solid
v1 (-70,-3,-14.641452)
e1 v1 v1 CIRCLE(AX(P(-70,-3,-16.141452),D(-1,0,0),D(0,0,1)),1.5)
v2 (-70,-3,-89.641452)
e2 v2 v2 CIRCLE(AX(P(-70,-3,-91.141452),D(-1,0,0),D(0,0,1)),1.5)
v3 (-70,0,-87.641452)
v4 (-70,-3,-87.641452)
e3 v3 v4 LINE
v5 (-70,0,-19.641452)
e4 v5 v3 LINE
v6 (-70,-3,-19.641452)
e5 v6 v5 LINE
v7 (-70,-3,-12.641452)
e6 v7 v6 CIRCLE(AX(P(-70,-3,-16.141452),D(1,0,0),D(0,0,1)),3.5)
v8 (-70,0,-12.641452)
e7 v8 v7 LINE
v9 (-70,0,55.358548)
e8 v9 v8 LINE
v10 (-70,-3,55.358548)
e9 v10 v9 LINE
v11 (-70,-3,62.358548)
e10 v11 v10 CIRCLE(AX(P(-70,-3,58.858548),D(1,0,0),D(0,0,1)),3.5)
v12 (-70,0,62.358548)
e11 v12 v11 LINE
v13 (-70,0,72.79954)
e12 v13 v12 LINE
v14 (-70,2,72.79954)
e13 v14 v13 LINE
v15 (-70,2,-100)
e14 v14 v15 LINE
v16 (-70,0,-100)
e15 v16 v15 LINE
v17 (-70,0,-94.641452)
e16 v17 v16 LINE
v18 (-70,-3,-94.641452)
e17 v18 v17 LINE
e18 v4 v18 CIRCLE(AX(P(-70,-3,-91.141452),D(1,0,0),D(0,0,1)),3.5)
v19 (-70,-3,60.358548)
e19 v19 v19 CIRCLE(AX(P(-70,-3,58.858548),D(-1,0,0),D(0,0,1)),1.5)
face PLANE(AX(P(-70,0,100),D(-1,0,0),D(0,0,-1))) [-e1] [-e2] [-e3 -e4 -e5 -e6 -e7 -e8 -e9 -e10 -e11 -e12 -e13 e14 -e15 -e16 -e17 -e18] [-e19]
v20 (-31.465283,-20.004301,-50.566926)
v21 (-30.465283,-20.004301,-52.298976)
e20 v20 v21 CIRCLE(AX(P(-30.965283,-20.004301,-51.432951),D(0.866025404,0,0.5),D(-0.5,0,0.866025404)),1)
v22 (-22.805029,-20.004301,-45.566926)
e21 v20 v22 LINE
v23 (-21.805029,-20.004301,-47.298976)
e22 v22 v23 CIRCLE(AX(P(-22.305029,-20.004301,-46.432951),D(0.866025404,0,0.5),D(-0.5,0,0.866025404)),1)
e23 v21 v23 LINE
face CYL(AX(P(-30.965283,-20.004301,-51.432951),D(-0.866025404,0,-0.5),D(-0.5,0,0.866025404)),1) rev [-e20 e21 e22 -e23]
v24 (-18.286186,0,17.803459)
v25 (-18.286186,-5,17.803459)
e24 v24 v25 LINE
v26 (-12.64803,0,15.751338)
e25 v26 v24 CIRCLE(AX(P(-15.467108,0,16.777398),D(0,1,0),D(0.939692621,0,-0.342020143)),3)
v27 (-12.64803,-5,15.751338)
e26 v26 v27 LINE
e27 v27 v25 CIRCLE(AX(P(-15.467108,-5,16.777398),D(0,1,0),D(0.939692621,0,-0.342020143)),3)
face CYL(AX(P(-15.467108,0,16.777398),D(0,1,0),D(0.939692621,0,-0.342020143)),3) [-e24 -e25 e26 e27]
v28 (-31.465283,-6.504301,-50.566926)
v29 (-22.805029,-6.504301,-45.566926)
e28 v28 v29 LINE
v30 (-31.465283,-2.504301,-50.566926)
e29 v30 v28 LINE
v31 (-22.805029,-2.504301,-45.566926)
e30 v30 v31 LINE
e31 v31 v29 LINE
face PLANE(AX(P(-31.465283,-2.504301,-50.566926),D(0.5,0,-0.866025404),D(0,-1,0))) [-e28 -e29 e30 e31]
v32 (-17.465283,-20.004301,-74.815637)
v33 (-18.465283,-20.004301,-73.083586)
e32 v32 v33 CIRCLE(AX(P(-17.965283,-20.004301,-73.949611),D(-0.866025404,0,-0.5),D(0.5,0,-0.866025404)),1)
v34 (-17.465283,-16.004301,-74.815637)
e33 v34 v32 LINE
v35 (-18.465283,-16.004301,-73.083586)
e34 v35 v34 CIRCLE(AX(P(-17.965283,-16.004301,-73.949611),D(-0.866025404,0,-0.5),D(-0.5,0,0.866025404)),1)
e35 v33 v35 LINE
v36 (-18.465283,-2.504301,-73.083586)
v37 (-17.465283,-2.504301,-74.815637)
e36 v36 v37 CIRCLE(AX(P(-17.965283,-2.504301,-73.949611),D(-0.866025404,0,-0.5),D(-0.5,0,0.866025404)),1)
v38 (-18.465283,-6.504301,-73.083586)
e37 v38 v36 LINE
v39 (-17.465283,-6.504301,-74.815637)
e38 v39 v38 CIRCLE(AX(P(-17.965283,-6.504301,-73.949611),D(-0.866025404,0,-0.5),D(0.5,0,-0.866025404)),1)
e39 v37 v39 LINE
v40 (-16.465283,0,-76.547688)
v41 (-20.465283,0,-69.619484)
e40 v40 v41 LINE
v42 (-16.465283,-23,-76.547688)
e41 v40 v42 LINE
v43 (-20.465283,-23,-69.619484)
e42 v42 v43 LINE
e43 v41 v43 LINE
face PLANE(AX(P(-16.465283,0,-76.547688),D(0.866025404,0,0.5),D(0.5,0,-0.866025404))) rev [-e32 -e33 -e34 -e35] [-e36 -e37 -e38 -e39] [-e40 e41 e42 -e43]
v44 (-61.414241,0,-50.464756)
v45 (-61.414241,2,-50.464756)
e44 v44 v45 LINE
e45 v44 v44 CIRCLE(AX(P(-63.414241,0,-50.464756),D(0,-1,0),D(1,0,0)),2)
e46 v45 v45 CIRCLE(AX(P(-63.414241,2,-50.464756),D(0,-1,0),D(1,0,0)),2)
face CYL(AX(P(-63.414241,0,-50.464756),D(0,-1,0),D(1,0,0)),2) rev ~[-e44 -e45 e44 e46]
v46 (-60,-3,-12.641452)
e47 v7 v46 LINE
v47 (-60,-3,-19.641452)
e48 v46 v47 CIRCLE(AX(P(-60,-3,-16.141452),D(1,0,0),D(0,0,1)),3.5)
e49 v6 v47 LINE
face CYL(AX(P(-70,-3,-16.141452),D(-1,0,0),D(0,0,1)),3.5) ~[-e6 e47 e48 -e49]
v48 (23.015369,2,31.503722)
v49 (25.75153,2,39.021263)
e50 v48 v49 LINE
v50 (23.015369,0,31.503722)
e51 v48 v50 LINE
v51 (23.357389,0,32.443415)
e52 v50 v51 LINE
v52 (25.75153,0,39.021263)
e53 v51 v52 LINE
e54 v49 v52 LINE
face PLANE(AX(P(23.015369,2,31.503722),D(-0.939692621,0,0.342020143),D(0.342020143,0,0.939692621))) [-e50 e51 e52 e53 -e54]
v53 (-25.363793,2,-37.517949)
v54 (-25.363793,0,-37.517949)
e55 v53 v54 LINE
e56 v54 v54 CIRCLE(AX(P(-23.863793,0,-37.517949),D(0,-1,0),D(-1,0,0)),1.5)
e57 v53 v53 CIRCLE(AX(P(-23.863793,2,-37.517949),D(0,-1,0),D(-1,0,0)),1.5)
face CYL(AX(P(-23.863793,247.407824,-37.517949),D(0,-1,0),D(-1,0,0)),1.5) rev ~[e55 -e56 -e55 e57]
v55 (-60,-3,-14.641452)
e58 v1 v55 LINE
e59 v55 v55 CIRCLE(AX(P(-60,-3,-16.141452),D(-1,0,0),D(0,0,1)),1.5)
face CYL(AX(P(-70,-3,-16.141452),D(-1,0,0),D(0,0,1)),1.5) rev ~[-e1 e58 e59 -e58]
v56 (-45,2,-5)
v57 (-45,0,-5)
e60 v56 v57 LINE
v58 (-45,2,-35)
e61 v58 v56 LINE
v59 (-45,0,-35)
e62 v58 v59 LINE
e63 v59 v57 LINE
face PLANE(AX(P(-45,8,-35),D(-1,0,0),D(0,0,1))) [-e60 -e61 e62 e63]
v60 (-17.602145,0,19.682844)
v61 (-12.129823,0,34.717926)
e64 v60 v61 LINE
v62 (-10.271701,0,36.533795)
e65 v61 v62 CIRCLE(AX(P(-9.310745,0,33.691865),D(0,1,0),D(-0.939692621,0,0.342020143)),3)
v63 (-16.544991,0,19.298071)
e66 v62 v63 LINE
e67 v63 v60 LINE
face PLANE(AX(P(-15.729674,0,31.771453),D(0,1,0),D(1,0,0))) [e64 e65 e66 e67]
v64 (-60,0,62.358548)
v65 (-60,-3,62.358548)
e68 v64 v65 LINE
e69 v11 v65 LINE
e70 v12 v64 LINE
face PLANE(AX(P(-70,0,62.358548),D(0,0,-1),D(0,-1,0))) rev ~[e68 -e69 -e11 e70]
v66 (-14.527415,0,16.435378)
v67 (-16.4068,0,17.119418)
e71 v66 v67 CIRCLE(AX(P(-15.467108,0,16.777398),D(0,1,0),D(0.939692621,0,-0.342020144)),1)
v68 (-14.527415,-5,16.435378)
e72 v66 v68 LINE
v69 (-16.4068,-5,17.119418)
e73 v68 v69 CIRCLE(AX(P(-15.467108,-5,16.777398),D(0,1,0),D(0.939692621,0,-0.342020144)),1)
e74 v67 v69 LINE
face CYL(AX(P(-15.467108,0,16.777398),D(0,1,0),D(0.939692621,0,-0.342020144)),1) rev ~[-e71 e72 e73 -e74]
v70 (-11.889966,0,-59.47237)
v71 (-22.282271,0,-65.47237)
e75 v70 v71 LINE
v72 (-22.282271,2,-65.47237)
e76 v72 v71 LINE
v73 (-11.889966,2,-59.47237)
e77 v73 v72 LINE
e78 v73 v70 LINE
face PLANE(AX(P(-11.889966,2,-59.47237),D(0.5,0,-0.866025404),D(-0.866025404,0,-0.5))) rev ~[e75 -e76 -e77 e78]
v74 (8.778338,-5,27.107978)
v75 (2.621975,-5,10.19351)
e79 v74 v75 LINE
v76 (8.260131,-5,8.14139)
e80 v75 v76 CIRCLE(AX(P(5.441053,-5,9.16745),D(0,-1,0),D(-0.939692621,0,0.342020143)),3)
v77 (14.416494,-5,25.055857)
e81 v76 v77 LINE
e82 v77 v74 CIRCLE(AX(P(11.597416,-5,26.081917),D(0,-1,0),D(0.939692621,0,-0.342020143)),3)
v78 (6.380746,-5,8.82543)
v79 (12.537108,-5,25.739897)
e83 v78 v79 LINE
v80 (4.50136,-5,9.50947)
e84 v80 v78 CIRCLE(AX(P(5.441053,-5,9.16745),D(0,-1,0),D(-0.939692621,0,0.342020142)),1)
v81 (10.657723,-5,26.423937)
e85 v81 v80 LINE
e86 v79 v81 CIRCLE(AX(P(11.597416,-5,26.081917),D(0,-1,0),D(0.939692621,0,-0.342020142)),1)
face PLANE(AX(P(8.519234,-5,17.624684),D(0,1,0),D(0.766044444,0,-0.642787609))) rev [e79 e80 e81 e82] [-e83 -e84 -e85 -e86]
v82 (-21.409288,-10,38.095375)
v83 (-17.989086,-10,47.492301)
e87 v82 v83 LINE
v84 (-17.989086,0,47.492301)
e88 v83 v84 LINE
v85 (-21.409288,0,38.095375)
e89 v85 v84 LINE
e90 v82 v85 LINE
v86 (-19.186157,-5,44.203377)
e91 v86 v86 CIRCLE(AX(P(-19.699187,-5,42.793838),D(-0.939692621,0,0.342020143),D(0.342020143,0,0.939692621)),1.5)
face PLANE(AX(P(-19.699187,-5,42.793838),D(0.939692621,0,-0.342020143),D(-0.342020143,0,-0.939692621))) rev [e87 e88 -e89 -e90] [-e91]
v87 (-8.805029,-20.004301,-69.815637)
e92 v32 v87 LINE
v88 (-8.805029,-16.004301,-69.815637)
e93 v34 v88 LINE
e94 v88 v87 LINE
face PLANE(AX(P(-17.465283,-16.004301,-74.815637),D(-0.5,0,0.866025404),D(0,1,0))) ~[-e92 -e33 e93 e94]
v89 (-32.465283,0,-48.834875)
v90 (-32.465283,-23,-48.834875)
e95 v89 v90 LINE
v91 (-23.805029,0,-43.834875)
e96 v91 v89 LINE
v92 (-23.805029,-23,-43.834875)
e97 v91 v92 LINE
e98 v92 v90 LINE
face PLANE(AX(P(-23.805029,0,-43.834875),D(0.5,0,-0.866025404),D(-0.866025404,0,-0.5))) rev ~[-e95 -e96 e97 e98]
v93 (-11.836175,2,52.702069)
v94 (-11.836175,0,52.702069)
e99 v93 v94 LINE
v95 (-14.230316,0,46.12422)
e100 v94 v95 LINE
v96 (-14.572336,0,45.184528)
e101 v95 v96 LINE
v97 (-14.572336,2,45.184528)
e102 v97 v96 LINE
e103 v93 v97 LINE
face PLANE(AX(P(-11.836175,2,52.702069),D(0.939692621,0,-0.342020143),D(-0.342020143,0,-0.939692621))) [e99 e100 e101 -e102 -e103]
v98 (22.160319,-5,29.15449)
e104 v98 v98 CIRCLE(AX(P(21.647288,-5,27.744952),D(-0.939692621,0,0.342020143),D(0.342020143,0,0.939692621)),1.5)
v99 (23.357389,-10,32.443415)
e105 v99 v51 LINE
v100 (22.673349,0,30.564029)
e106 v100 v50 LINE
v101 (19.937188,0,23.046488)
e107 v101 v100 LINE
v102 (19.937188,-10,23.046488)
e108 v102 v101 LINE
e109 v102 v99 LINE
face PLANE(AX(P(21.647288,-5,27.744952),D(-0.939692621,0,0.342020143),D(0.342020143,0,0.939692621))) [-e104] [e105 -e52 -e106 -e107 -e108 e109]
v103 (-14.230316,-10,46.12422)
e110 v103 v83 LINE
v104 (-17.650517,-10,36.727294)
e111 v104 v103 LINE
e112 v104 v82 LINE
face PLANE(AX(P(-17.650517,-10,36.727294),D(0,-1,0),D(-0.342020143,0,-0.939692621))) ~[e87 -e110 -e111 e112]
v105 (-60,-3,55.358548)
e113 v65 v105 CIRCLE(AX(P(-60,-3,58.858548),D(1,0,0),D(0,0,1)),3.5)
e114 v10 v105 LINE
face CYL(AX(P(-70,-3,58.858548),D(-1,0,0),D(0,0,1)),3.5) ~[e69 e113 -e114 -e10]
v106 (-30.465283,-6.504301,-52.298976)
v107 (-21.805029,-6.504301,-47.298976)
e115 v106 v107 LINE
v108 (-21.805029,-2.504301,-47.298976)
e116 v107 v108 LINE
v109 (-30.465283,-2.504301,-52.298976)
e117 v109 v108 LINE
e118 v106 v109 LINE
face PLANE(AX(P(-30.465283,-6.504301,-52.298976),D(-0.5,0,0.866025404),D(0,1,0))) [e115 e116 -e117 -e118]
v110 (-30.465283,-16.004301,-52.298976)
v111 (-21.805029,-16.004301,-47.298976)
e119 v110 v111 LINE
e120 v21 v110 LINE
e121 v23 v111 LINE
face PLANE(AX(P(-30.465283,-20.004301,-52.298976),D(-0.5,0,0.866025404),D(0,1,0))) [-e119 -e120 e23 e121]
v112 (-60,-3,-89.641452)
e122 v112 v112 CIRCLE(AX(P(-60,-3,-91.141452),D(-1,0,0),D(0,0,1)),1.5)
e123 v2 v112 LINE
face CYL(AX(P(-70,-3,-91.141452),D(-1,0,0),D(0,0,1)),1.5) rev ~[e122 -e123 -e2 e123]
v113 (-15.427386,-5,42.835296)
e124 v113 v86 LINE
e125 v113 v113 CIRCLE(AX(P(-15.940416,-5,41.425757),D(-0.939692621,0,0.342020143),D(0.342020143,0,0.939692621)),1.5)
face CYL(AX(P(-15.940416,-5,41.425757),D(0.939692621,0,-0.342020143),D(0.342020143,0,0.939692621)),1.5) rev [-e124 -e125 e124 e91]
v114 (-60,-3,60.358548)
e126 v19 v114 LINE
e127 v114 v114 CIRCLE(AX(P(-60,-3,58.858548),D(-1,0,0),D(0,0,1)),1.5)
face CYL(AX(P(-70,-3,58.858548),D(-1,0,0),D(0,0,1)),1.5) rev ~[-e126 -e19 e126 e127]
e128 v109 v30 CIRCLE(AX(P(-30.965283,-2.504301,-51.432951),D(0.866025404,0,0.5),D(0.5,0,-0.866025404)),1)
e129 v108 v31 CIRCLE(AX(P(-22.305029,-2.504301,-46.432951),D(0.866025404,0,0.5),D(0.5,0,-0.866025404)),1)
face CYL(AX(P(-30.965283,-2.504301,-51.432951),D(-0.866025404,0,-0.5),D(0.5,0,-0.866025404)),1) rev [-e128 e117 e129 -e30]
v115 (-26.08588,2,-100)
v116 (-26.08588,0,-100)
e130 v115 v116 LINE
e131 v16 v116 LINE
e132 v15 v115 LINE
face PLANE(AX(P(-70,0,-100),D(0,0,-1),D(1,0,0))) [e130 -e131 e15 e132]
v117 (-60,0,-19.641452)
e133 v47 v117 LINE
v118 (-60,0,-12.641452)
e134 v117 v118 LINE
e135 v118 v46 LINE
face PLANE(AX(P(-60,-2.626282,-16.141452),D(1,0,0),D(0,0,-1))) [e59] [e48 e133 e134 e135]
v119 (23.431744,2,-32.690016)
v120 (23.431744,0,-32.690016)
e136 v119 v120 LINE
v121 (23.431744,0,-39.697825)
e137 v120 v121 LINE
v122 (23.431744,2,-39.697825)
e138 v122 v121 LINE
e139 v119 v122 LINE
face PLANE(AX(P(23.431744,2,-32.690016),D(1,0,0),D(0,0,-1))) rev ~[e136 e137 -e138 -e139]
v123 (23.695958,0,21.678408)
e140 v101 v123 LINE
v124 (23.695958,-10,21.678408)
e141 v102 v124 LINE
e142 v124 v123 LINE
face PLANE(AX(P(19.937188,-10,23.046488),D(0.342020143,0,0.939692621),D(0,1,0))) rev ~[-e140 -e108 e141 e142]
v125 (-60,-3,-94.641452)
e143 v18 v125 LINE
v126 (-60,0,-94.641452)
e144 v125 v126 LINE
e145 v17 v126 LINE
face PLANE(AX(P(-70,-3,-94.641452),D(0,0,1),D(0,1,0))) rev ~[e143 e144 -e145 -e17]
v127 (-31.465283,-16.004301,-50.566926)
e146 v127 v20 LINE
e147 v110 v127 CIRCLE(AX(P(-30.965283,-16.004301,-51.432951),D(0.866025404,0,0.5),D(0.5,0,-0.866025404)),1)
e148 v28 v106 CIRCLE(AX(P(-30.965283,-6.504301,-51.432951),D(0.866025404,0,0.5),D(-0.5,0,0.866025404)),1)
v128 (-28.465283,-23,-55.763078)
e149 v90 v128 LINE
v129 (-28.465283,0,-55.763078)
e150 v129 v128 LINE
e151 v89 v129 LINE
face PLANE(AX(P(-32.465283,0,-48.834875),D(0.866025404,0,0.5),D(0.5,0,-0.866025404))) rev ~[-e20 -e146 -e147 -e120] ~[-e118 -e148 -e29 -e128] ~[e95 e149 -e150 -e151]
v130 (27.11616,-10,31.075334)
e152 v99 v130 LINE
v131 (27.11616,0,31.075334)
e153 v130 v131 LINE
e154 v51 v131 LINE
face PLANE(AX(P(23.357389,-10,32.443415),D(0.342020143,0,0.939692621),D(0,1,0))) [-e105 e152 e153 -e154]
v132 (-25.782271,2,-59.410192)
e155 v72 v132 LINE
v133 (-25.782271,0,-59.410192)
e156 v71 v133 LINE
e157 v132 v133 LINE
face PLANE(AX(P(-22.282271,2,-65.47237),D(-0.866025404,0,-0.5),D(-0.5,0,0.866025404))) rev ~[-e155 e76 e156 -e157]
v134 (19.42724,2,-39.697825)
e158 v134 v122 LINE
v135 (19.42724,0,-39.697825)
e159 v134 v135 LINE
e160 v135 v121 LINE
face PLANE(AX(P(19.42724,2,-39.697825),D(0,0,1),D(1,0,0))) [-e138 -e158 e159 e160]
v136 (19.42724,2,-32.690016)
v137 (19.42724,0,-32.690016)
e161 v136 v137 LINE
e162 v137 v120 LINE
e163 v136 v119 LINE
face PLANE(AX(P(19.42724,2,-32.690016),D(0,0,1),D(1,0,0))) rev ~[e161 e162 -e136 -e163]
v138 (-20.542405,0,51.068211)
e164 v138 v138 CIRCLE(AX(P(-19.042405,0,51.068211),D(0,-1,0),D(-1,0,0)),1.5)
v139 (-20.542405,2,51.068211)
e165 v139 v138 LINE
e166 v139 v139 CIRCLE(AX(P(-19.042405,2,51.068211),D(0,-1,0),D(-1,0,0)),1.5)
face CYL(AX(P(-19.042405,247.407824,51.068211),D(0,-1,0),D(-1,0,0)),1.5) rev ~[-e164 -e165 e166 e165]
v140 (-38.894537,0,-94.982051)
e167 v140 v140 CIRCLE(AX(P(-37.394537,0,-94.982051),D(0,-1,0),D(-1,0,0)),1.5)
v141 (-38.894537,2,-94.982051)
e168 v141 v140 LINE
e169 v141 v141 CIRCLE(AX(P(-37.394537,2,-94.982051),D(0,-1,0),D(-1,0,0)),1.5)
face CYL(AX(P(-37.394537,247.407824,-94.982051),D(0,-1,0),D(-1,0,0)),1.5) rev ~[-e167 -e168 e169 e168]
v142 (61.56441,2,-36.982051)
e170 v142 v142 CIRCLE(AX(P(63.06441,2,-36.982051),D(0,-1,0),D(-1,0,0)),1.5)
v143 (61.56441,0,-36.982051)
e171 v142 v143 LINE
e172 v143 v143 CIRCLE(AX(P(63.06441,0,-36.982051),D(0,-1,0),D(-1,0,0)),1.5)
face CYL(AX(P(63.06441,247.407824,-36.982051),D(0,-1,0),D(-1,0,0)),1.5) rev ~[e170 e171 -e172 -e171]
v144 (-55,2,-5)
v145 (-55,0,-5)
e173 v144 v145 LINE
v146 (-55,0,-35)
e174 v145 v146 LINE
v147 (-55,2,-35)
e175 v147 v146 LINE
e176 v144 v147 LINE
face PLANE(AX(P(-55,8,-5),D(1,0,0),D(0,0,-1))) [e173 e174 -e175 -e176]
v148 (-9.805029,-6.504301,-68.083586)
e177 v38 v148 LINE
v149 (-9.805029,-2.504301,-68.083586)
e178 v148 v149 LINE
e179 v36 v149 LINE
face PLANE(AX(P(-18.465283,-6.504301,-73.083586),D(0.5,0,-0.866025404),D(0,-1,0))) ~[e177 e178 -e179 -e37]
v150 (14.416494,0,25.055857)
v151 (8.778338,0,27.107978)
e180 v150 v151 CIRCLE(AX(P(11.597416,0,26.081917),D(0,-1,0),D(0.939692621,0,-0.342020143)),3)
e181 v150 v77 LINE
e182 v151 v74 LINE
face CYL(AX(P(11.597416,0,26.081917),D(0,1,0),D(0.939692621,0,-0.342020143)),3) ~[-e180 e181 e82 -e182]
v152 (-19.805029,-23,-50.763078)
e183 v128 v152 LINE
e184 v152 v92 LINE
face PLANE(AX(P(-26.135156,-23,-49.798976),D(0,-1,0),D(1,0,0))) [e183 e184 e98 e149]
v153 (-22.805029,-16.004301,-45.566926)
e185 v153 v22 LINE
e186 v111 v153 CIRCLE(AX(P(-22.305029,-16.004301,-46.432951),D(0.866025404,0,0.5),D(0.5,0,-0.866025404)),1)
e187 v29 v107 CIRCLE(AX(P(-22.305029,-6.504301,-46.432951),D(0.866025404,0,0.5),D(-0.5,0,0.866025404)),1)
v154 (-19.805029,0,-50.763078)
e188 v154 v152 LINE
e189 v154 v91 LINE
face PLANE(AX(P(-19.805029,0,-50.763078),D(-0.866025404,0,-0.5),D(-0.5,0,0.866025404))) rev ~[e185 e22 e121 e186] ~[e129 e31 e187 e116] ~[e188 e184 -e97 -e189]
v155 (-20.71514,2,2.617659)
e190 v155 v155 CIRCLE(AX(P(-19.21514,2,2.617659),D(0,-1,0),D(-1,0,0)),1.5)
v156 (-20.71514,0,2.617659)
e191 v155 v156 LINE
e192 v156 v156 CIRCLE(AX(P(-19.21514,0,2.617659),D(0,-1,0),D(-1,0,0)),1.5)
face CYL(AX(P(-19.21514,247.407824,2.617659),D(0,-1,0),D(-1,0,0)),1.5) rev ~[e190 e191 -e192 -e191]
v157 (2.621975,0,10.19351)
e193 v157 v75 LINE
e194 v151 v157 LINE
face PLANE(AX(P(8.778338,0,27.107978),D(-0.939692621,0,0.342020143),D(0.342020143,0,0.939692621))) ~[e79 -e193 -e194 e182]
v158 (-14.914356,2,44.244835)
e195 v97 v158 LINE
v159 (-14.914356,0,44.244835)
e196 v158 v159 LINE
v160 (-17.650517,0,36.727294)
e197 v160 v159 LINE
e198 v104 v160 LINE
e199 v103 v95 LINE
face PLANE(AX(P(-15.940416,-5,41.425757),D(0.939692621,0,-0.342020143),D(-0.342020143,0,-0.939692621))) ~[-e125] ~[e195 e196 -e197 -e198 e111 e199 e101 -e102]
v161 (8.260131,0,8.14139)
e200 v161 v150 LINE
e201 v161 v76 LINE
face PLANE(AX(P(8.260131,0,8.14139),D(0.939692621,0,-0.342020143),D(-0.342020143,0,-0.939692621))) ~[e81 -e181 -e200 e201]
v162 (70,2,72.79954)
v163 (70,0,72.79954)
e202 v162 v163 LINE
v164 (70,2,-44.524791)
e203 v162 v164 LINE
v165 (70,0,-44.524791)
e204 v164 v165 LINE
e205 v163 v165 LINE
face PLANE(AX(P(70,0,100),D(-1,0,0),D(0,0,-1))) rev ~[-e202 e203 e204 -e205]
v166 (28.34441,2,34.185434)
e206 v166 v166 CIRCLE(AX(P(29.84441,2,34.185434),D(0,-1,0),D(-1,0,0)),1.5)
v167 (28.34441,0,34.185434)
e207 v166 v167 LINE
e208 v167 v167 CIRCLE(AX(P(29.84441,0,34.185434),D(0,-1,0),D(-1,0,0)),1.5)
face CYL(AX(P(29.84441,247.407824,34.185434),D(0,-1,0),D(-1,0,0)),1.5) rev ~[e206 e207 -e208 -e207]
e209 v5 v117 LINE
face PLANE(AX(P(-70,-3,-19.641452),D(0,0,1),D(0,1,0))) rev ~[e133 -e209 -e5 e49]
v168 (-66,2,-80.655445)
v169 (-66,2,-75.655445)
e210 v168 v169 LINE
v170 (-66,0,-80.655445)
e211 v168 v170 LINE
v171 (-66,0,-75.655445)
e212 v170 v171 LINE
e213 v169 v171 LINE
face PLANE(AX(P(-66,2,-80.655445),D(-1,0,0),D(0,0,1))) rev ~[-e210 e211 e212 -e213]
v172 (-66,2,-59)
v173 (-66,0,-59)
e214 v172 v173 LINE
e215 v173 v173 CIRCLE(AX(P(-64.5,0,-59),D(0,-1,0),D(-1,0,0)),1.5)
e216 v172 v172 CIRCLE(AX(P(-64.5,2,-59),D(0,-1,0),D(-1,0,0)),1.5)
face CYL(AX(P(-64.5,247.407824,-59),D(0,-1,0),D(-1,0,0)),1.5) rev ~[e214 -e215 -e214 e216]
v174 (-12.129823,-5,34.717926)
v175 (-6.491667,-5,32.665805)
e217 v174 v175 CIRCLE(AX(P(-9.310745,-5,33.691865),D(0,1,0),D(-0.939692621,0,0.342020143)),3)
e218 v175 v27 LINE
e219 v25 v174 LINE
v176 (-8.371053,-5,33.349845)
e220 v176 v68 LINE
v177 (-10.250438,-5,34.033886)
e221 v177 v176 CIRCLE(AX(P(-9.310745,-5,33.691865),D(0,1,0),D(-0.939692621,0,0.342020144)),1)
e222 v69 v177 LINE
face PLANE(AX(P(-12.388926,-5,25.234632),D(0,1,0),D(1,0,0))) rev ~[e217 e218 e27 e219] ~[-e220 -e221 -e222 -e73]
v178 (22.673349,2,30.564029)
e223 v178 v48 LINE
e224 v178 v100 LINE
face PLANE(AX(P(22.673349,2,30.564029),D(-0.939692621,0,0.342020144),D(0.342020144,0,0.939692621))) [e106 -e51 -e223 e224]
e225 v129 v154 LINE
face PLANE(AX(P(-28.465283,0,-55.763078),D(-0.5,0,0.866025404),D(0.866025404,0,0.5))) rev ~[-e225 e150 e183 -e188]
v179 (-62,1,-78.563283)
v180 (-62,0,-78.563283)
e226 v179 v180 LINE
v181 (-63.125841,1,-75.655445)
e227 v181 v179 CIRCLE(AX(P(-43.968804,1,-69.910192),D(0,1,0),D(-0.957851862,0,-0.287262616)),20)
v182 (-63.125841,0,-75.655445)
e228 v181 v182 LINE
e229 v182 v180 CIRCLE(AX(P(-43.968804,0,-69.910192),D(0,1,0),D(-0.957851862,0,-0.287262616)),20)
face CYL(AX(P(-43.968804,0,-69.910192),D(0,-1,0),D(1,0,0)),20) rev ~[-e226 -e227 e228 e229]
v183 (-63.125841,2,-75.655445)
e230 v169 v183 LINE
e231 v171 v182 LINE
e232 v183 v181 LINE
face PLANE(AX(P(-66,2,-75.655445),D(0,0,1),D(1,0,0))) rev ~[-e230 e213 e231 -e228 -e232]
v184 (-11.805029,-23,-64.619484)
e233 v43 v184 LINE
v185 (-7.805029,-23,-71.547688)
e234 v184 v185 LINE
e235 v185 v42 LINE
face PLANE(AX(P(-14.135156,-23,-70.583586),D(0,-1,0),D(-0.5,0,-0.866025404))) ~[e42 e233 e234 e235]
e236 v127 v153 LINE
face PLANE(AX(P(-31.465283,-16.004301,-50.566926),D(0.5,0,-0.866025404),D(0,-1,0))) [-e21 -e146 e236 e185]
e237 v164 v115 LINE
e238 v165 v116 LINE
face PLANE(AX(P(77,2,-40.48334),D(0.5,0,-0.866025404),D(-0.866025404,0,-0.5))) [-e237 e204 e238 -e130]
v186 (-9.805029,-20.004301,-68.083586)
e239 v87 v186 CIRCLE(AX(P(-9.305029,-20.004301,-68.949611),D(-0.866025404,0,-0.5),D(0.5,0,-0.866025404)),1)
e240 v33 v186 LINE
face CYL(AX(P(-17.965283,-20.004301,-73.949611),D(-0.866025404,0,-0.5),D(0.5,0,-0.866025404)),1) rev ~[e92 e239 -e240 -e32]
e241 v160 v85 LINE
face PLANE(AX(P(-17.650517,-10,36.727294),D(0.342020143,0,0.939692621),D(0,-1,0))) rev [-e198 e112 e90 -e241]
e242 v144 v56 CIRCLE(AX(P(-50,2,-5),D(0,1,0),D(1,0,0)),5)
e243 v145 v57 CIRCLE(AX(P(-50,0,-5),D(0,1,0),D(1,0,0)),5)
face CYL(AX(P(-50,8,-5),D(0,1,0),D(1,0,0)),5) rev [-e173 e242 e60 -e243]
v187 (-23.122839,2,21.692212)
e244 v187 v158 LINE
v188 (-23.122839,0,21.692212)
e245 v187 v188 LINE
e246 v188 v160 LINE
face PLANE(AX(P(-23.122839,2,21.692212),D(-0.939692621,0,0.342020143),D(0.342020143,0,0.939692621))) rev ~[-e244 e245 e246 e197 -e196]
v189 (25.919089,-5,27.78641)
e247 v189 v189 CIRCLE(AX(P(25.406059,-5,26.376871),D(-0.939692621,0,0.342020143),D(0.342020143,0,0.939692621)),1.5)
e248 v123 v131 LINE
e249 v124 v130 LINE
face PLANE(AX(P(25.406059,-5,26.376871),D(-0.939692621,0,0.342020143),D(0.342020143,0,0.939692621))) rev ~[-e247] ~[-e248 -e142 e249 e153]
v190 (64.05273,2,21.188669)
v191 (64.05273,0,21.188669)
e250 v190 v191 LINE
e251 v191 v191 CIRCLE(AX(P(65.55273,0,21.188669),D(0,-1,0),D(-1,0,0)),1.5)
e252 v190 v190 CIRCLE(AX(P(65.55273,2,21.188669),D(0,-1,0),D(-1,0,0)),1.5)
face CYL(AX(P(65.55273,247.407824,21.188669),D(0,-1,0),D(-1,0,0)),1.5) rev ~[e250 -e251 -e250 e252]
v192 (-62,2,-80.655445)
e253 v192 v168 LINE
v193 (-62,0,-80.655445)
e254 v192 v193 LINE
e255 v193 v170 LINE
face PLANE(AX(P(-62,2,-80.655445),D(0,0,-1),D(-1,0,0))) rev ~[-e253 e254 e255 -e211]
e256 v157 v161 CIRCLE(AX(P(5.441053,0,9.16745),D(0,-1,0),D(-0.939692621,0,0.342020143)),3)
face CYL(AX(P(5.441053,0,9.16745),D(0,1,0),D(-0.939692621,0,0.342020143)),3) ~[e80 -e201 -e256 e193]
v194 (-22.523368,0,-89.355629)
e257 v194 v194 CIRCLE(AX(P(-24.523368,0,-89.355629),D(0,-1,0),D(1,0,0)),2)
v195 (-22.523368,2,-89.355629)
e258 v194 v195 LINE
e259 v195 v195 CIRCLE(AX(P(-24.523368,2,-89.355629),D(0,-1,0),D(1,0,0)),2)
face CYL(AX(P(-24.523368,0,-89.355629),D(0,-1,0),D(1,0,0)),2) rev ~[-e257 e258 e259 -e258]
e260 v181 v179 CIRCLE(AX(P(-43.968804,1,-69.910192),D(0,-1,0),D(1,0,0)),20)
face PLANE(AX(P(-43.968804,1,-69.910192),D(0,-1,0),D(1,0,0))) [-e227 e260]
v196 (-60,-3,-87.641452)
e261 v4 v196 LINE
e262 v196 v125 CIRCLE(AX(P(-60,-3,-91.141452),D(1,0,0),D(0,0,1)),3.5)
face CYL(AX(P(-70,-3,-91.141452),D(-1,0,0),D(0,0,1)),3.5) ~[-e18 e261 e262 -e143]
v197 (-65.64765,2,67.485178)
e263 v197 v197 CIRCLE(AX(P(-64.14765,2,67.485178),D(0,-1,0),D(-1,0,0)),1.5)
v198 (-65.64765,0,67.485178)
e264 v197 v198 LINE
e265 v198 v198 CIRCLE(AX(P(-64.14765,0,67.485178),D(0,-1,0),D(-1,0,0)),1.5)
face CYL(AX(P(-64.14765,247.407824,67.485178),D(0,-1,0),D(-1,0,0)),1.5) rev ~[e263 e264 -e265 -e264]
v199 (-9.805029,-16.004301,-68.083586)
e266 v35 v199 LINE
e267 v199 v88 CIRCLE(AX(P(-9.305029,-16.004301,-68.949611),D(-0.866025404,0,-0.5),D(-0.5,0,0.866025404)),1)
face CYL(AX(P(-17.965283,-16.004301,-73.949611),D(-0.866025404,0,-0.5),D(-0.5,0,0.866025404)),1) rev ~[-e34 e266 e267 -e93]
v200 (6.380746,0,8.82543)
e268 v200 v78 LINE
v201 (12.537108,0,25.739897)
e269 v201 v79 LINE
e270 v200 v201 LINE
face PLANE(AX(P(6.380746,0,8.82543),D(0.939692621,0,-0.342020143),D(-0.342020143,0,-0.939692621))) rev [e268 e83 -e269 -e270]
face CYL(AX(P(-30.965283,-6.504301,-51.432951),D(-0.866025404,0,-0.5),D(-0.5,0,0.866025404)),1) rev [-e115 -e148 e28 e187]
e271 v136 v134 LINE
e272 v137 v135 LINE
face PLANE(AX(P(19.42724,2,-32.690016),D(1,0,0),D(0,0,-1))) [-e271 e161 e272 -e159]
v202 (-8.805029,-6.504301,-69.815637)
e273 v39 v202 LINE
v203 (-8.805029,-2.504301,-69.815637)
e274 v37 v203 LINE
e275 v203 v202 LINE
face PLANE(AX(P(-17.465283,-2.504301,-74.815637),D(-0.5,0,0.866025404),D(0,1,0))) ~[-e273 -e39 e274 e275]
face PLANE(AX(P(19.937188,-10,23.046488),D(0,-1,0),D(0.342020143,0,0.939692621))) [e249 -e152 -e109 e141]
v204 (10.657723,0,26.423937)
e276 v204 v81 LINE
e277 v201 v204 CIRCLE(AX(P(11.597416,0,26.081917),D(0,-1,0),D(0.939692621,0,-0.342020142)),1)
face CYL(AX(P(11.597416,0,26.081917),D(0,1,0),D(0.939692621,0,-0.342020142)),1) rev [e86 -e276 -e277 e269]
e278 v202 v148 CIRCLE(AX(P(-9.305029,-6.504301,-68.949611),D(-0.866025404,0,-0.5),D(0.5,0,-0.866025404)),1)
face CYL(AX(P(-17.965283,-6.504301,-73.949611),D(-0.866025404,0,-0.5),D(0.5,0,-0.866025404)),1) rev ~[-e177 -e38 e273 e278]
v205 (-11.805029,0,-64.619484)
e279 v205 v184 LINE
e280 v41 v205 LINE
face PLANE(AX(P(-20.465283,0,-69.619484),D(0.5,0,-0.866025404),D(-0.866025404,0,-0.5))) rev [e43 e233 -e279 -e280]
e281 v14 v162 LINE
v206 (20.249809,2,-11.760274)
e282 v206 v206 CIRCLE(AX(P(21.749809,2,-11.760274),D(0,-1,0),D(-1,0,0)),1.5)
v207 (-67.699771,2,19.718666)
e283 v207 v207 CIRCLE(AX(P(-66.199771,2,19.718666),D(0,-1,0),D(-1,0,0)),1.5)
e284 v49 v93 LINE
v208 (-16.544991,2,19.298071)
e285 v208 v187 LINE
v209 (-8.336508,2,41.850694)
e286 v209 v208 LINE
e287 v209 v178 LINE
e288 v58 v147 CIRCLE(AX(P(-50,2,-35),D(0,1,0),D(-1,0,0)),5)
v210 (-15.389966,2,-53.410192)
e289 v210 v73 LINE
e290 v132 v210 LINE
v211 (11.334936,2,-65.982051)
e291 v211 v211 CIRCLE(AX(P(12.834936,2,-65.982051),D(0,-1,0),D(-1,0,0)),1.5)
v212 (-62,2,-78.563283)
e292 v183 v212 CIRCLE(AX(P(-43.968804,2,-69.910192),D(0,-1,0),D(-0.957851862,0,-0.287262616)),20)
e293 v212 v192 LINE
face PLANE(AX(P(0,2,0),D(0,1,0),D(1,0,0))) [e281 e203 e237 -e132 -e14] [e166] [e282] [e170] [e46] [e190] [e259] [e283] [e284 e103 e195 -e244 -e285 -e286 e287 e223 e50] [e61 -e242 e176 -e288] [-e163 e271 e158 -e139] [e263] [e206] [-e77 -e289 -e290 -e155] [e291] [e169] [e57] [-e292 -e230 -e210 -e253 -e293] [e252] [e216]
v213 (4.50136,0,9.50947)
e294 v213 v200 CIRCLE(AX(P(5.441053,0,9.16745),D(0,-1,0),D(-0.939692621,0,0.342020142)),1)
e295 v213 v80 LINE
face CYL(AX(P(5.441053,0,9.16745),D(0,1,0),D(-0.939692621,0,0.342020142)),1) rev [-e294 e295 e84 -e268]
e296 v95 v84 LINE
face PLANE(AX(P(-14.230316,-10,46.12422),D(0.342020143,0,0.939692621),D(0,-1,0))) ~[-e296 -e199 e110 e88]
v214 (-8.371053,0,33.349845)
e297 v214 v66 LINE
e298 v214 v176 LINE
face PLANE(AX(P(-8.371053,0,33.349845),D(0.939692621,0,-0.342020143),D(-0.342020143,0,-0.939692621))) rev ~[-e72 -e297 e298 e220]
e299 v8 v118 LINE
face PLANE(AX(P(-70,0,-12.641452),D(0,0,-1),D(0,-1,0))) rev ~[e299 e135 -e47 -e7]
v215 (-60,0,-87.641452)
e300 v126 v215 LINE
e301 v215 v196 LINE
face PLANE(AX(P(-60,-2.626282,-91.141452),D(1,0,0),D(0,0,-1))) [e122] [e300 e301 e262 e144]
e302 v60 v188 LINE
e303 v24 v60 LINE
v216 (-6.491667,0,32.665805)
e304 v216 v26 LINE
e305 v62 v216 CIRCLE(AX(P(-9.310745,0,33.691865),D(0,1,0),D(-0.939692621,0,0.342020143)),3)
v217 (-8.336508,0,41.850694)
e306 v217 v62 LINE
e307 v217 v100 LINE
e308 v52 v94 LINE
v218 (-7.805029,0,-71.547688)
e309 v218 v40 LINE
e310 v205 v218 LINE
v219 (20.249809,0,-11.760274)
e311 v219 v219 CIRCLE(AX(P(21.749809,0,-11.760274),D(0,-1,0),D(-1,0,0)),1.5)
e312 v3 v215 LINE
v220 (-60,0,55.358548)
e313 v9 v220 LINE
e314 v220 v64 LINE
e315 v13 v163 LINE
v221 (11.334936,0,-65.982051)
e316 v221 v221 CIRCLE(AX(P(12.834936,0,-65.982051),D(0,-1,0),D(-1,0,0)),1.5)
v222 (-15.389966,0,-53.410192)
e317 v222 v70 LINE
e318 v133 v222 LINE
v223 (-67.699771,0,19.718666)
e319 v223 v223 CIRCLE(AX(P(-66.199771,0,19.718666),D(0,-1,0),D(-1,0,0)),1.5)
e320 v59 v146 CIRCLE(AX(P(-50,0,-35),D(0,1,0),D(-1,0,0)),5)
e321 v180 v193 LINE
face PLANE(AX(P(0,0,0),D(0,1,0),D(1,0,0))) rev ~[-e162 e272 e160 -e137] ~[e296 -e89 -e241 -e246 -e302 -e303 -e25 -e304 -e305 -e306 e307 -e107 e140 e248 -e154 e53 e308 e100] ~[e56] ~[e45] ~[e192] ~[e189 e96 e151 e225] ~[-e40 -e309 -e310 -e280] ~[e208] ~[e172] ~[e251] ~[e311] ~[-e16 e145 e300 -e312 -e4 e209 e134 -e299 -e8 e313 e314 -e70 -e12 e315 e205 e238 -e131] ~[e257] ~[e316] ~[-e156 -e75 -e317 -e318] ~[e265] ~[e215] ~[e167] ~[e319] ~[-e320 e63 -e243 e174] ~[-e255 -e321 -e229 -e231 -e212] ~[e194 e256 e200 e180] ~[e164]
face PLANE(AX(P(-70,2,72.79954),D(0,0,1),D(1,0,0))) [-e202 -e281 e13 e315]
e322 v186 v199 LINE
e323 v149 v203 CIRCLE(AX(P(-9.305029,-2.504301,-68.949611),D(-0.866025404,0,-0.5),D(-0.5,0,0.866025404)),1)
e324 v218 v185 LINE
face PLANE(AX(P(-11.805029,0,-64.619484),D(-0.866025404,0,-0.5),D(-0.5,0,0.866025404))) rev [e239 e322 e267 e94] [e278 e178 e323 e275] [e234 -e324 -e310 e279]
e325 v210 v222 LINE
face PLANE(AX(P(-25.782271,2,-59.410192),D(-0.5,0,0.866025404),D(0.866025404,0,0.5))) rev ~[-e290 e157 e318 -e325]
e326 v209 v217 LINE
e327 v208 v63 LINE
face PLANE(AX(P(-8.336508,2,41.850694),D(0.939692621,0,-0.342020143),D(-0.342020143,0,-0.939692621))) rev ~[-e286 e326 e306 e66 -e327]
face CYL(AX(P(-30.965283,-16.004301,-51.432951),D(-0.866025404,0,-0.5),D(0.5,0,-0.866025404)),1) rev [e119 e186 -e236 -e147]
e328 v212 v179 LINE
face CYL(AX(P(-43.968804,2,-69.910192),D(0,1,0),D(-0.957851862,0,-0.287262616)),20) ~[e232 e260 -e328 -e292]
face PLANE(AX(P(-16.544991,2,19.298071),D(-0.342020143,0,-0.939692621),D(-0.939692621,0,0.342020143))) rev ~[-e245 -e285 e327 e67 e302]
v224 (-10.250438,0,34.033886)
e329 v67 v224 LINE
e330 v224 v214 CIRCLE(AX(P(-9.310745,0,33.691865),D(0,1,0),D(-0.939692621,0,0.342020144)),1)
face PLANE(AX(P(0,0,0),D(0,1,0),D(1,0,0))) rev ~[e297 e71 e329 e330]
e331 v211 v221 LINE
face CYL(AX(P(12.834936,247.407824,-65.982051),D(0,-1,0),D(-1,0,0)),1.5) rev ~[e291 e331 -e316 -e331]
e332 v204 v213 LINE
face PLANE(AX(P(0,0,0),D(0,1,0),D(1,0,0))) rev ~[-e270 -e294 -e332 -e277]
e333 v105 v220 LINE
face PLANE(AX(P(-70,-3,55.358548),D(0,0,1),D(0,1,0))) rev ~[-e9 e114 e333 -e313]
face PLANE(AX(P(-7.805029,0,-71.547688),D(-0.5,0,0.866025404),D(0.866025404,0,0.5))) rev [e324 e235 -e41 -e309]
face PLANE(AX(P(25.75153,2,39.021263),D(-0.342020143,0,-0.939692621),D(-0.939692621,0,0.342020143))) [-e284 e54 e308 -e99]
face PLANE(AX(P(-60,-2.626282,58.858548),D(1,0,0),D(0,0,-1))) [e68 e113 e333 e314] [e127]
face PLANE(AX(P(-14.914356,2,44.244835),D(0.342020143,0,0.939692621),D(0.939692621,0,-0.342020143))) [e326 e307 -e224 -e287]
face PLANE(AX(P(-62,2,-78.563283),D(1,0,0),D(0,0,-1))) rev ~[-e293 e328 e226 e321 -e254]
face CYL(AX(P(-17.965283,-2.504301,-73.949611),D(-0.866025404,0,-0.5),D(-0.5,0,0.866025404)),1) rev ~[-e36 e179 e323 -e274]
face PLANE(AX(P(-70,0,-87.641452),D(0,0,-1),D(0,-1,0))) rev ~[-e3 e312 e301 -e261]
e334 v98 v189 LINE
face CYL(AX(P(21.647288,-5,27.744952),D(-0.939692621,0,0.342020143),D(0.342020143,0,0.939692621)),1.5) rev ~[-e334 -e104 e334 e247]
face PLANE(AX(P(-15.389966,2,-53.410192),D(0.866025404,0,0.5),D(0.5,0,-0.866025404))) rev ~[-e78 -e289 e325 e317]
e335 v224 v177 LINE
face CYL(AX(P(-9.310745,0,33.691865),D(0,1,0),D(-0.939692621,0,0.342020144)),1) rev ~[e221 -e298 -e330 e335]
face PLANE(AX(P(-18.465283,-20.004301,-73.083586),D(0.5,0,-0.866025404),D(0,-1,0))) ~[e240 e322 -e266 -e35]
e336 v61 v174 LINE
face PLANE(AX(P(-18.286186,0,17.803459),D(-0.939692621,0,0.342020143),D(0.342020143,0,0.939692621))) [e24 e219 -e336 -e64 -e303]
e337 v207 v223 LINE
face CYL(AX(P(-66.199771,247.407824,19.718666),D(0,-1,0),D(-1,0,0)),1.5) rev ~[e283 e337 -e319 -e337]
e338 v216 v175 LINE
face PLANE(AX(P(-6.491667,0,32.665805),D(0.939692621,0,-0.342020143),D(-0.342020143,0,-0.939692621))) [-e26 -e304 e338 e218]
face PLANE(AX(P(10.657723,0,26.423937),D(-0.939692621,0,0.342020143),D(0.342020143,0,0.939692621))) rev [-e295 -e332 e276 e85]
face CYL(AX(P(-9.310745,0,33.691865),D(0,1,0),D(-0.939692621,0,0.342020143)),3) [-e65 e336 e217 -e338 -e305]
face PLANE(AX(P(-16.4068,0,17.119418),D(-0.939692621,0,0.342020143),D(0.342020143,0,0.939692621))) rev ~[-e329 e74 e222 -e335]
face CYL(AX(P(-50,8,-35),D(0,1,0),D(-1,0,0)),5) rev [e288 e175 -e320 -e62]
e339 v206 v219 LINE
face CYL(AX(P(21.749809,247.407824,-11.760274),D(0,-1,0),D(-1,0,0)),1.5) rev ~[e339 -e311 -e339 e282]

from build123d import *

# Parameters (mm, degrees)
SKETCH1_W                       = 140
SKETCH1_H                       = 200
BOSS_EXTRUDE1_DEPTH             = 2
SKETCH4_R                       = 20
CUT_EXTRUDE1_DEPTH              = 1
CUT_EXTRUDE2_REACH              = 4
SKETCH6_R                       = 2
SKETCH2_W                       = 4.004504799
SKETCH2_H                       = 7.007808652
CUT_EXTRUDE4_DEPTH              = 1
CUT_EXTRUDE4_DEPTH_BACK         = 3
CUT_EXTRUDE5_DEPTH              = 2
SKETCH8_W                       = 10
SKETCH8_H                       = 10
SKETCH8_R                       = 1.5
BOSS_EXTRUDE2_DEPTH             = 4
BOSS_EXTRUDE4_DEPTH             = 5
BOSS_EXTRUDE5_DEPTH             = 23
CUT_EXTRUDE6_DEPTH              = 10
F_3_0MM_CLEARANCE_DOWEL_HOLE1_D = 3
CUT_EXTRUDE7_DEPTH              = 26
SKETCH18_W                      = 140
SKETCH18_H                      = 27.200459883
CUT_EXTRUDE8_DEPTH              = 26
CUT_EXTRUDE9_DEPTH              = 32
SKETCH20_R                      = 1.5
BOSS_EXTRUDE7_DEPTH             = 10
LPATTERN1_COUNT                 = 3
LPATTERN1_PITCH                 = 75
CUT_EXTRUDE10_DEPTH             = 2


with BuildPart() as part:
    # Sketch1 → Boss-Extrude1 (new body)
    with BuildSketch(Plane(origin=(0, 0, 0), x_dir=(1, 0, 0), z_dir=(0, 1, 0))):
        Rectangle(SKETCH1_W, SKETCH1_H)
    extrude(amount=BOSS_EXTRUDE1_DEPTH)

    # Sketch4 → Cut-Extrude1 (cut)
    with BuildSketch(Plane.XZ):
        with Locations((-43.968804066, -69.910192249)):
            Circle(SKETCH4_R)
    extrude(amount=-CUT_EXTRUDE1_DEPTH, mode=Mode.SUBTRACT)

    # Sketch6 → Cut-Extrude2 (cut, up to next)
    with BuildSketch(Plane.XZ, mode=Mode.PRIVATE) as cut_extrude2_sk1:
        with Locations((-63.414240549, -50.464755767)):
            Circle(SKETCH6_R)
    cut_extrude2_tool1 = extrude(cut_extrude2_sk1.sketch, amount=-CUT_EXTRUDE2_REACH, mode=Mode.PRIVATE) & part.part
    add(cut_extrude2_tool1.solids().sort_by_distance((-63.414241, 0, -50.464756))[0], mode=Mode.SUBTRACT)
    # Sketch6 → Cut-Extrude2 (cut, up to next)
    with BuildSketch(Plane.XZ, mode=Mode.PRIVATE) as cut_extrude2_sk2:
        with Locations((-24.523367583, -89.355628732)):
            Circle(SKETCH6_R)
    cut_extrude2_tool2 = extrude(cut_extrude2_sk2.sketch, amount=-CUT_EXTRUDE2_REACH, mode=Mode.PRIVATE) & part.part
    add(cut_extrude2_tool2.solids().sort_by_distance((-24.523368, 0, -89.355629))[0], mode=Mode.SUBTRACT)

    # Sketch2 → Cut-Extrude4 (cut, two sides)
    with BuildSketch(Plane(origin=(0, 2, 0), x_dir=(1, 0, 0), z_dir=(0, 1, 0))) as cut_extrude4_sk:
        Polygon((-15.389965741, 53.410192249), (-11.889965741, 59.472370076), (-22.282270586, 65.472370076), (-25.782270586, 59.410192249), align=None)
        with BuildLine():
            Line((-62, 80.655444566), (-66, 80.655444566))
            Line((-66, 80.655444566), (-66, 75.655444566))
            Line((-66, 75.655444566), (-63.125841306, 75.655444566))
            ThreePointArc((-63.125841306, 75.655444566), (-62.619676759, 77.131338127), (-62, 78.563282633))
            Line((-62, 78.563282633), (-62, 80.655444566))
        make_face()
        with Locations((21.429491924, 36.193920339)):
            Rectangle(SKETCH2_W, SKETCH2_H)
    extrude(amount=CUT_EXTRUDE4_DEPTH, mode=Mode.SUBTRACT)
    extrude(cut_extrude4_sk.sketch, amount=-CUT_EXTRUDE4_DEPTH_BACK, mode=Mode.SUBTRACT)

    # Sketch7 → Cut-Extrude5 (cut)
    with BuildSketch(Plane(origin=(0, 2, 0), x_dir=(1, 0, 0), z_dir=(0, 1, 0))):
        Polygon((-11.836174724, -52.702068722), (-14.572335871, -45.184527756), (23.015368961, -31.503722023), (25.751530107, -39.021262989), align=None)
        Polygon((-14.914356014, -44.244835135), (22.673348817, -30.564029402), (23.015368961, -31.503722023), (-14.572335871, -45.184527756), align=None)
    extrude(amount=-CUT_EXTRUDE5_DEPTH, mode=Mode.SUBTRACT)

    # Sketch8 → Boss-Extrude2 (add)
    with BuildSketch(Plane(origin=(10.197981142, 0, -3.711761585), x_dir=(0.342020143, 0, 0.939692621), z_dir=(-0.939692621, 0, 0.342020143))):
        with Locations((33.475534903, -5)):
            Rectangle(SKETCH8_W, SKETCH8_H)
        with Locations((33.475534903, -5)):
            Circle(SKETCH8_R, mode=Mode.SUBTRACT)
    boss_extrude2 = extrude(amount=-BOSS_EXTRUDE2_DEPTH)

    # Mirror1: Boss-Extrude2 across plane
    add(boss_extrude2.mirror(Plane(origin=(-8.595871274, 0, 3.128641281), x_dir=(0.342020143, 0, 0.939692621), z_dir=(-0.939692621, 0, 0.342020143))))

    # Sketch9 → Boss-Extrude4 (add)
    with BuildSketch(Plane(origin=(0, 0, 0), x_dir=(-1, 0, 0), z_dir=(0, -1, 0))):
        with BuildLine():
            Line((18.286185593, -17.803458652), (12.129823014, -34.717925827))
            ThreePointArc((12.129823014, -34.717925827), (8.284684721, -36.510943259), (6.491667289, -32.665804967))
            Line((6.491667289, -32.665804967), (12.648029869, -15.751337793))
            ThreePointArc((12.648029869, -15.751337793), (16.493168161, -13.95832036), (18.286185593, -17.803458652))
        make_face()
        with BuildLine():
            Line((16.406800352, -17.119418366), (10.250437772, -34.03388554))
            ThreePointArc((10.250437772, -34.03388554), (8.968725008, -34.631558017), (8.37105253, -33.349845253))
            Line((8.37105253, -33.349845253), (14.52741511, -16.435378079))
            ThreePointArc((14.52741511, -16.435378079), (15.809127874, -15.837705602), (16.406800352, -17.119418366))
        make_face(mode=Mode.SUBTRACT)
    boss_extrude4 = extrude(amount=BOSS_EXTRUDE4_DEPTH)

    # Mirror2: Boss-Extrude4 across plane
    add(boss_extrude4.mirror(Plane(origin=(-8.595871274, 0, 3.128641281), x_dir=(0.342020143, 0, 0.939692621), z_dir=(-0.939692621, 0, 0.342020143))))

    # Sketch10 → Boss-Extrude5 (add)
    with BuildSketch(Plane.XZ):
        Polygon((-28.465283288, -55.763077932), (-19.80502925, -50.763077932), (-23.80502925, -43.834874702), (-32.465283288, -48.834874702), align=None)
    boss_extrude5 = extrude(amount=BOSS_EXTRUDE5_DEPTH)

    # Sketch11 → Cut-Extrude6 (cut)
    with BuildSketch(Plane(origin=(-45.495083508, 0, -26.26659871), x_dir=(-0.5, 0, 0.866025404), z_dir=(-0.866025404, 0, -0.5))):
        with BuildLine():
            Line((-30.059600438, -20.004300783), (-30.059600438, -16.004300783))
            ThreePointArc((-30.059600438, -16.004300783), (-29.059600438, -15.004300783), (-28.059600438, -16.004300783))
            Line((-28.059600438, -16.004300783), (-28.059600438, -20.004300783))
            ThreePointArc((-28.059600438, -20.004300783), (-29.059600438, -21.004300783), (-30.059600438, -20.004300783))
        make_face()
        with BuildLine():
            Line((-30.059600438, -6.504300783), (-30.059600438, -2.504300783))
            ThreePointArc((-30.059600438, -2.504300783), (-29.059600438, -1.504300783), (-28.059600438, -2.504300783))
            Line((-28.059600438, -2.504300783), (-28.059600438, -6.504300783))
            ThreePointArc((-28.059600438, -6.504300783), (-29.059600438, -7.504300783), (-30.059600438, -6.504300783))
        make_face()
    cut_extrude6 = extrude(amount=-CUT_EXTRUDE6_DEPTH, mode=Mode.SUBTRACT)

    # Mirror3: Boss-Extrude5, Cut-Extrude6 across plane
    add(boss_extrude5.mirror(Plane(origin=(21.029800219, 0, -36.424682453), x_dir=(0.866025404, 0, 0.5), z_dir=(-0.5, 0, 0.866025404))))
    add(cut_extrude6.mirror(Plane(origin=(21.029800219, 0, -36.424682453), x_dir=(0.866025404, 0, 0.5), z_dir=(-0.5, 0, 0.866025404))), mode=Mode.SUBTRACT)

    # Ø3.0mm Clearance Dowel Hole1 (through all)
    with Locations(Plane(origin=(-89.742029537, 2, 119.499715795), x_dir=(1, 0, 0), z_dir=(0, 1, 0))):
        with Locations((23.542258378, 99.781049413), (25.594379238, 52.014538143), (70.699625036, 68.431505023), (70.526889417, 116.882056579), (111.491838386, 131.259989766), (119.586439667, 85.314281565), (155.294759257, 98.311047011), (152.806439447, 156.481766603), (65.878236217, 157.017664987), (102.576966028, 185.481766603), (52.347492608, 214.481766603), (25.242029537, 178.499715795)):
            Hole(F_3_0MM_CLEARANCE_DOWEL_HOLE1_D / 2)

    # Sketch16 → Cut-Extrude7 (cut, through all)
    with BuildSketch(Plane(origin=(0, 2, 0), x_dir=(1, 0, 0), z_dir=(0, 1, 0))):
        Polygon((-43.621778265, 110.124355653), (83.026139699, 110.124355653), (83.026139699, 36.903214828), (77, 40.483339502), align=None)
    extrude(amount=-CUT_EXTRUDE7_DEPTH, mode=Mode.SUBTRACT)

    # Sketch18 → Cut-Extrude8 (cut, through all)
    with BuildSketch(Plane(origin=(0, 2, 0), x_dir=(1, 0, 0), z_dir=(0, 1, 0))):
        with Locations((0, -86.399770058)):
            Rectangle(SKETCH18_W, SKETCH18_H)
    extrude(amount=-CUT_EXTRUDE8_DEPTH, mode=Mode.SUBTRACT)

    # Sketch19 → Cut-Extrude9 (cut, through all)
    with BuildSketch(Plane(origin=(-89.742029537, 8, 119.499715795), x_dir=(1, 0, 0), z_dir=(0, 1, 0))):
        with BuildLine():
            Line((44.742029537, 154.499715795), (44.742029537, 124.499715795))
            ThreePointArc((44.742029537, 124.499715795), (39.742029537, 119.499715795), (34.742029537, 124.499715795))
            Line((34.742029537, 124.499715795), (34.742029537, 154.499715795))
            ThreePointArc((34.742029537, 154.499715795), (39.742029537, 159.499715795), (44.742029537, 154.499715795))
        make_face()
    extrude(amount=-CUT_EXTRUDE9_DEPTH, mode=Mode.SUBTRACT)

    # Sketch20 → Boss-Extrude7 (add)
    with BuildSketch(Plane.ZY.offset(70)):
        with BuildLine():
            Line((55.358547654, -3), (55.358547654, 0))
            Line((55.358547654, 0), (62.358547654, 0))
            Line((62.358547654, 0), (62.358547654, -3))
            ThreePointArc((62.358547654, -3), (58.858547654, -6.5), (55.358547654, -3))
        make_face()
        with Locations((58.858547654, -3)):
            Circle(SKETCH20_R, mode=Mode.SUBTRACT)
    boss_extrude7 = extrude(amount=-BOSS_EXTRUDE7_DEPTH)

    # LPattern1: Boss-Extrude7 ×3
    with Locations(*[(0, 0, -i * LPATTERN1_PITCH) for i in range(1, LPATTERN1_COUNT)]):
        add(boss_extrude7)

    # Sketch22 → Cut-Extrude10 (cut)
    with BuildSketch(Plane(origin=(0, 2, 0), x_dir=(1, 0, 0), z_dir=(0, 1, 0))):
        Polygon((-14.914356014, -44.244835135), (-8.336507669, -41.850694132), (-16.544991108, -19.298071233), (-23.122839454, -21.692212236), align=None)
    extrude(amount=-CUT_EXTRUDE10_DEPTH, mode=Mode.SUBTRACT)


solid = part.part
